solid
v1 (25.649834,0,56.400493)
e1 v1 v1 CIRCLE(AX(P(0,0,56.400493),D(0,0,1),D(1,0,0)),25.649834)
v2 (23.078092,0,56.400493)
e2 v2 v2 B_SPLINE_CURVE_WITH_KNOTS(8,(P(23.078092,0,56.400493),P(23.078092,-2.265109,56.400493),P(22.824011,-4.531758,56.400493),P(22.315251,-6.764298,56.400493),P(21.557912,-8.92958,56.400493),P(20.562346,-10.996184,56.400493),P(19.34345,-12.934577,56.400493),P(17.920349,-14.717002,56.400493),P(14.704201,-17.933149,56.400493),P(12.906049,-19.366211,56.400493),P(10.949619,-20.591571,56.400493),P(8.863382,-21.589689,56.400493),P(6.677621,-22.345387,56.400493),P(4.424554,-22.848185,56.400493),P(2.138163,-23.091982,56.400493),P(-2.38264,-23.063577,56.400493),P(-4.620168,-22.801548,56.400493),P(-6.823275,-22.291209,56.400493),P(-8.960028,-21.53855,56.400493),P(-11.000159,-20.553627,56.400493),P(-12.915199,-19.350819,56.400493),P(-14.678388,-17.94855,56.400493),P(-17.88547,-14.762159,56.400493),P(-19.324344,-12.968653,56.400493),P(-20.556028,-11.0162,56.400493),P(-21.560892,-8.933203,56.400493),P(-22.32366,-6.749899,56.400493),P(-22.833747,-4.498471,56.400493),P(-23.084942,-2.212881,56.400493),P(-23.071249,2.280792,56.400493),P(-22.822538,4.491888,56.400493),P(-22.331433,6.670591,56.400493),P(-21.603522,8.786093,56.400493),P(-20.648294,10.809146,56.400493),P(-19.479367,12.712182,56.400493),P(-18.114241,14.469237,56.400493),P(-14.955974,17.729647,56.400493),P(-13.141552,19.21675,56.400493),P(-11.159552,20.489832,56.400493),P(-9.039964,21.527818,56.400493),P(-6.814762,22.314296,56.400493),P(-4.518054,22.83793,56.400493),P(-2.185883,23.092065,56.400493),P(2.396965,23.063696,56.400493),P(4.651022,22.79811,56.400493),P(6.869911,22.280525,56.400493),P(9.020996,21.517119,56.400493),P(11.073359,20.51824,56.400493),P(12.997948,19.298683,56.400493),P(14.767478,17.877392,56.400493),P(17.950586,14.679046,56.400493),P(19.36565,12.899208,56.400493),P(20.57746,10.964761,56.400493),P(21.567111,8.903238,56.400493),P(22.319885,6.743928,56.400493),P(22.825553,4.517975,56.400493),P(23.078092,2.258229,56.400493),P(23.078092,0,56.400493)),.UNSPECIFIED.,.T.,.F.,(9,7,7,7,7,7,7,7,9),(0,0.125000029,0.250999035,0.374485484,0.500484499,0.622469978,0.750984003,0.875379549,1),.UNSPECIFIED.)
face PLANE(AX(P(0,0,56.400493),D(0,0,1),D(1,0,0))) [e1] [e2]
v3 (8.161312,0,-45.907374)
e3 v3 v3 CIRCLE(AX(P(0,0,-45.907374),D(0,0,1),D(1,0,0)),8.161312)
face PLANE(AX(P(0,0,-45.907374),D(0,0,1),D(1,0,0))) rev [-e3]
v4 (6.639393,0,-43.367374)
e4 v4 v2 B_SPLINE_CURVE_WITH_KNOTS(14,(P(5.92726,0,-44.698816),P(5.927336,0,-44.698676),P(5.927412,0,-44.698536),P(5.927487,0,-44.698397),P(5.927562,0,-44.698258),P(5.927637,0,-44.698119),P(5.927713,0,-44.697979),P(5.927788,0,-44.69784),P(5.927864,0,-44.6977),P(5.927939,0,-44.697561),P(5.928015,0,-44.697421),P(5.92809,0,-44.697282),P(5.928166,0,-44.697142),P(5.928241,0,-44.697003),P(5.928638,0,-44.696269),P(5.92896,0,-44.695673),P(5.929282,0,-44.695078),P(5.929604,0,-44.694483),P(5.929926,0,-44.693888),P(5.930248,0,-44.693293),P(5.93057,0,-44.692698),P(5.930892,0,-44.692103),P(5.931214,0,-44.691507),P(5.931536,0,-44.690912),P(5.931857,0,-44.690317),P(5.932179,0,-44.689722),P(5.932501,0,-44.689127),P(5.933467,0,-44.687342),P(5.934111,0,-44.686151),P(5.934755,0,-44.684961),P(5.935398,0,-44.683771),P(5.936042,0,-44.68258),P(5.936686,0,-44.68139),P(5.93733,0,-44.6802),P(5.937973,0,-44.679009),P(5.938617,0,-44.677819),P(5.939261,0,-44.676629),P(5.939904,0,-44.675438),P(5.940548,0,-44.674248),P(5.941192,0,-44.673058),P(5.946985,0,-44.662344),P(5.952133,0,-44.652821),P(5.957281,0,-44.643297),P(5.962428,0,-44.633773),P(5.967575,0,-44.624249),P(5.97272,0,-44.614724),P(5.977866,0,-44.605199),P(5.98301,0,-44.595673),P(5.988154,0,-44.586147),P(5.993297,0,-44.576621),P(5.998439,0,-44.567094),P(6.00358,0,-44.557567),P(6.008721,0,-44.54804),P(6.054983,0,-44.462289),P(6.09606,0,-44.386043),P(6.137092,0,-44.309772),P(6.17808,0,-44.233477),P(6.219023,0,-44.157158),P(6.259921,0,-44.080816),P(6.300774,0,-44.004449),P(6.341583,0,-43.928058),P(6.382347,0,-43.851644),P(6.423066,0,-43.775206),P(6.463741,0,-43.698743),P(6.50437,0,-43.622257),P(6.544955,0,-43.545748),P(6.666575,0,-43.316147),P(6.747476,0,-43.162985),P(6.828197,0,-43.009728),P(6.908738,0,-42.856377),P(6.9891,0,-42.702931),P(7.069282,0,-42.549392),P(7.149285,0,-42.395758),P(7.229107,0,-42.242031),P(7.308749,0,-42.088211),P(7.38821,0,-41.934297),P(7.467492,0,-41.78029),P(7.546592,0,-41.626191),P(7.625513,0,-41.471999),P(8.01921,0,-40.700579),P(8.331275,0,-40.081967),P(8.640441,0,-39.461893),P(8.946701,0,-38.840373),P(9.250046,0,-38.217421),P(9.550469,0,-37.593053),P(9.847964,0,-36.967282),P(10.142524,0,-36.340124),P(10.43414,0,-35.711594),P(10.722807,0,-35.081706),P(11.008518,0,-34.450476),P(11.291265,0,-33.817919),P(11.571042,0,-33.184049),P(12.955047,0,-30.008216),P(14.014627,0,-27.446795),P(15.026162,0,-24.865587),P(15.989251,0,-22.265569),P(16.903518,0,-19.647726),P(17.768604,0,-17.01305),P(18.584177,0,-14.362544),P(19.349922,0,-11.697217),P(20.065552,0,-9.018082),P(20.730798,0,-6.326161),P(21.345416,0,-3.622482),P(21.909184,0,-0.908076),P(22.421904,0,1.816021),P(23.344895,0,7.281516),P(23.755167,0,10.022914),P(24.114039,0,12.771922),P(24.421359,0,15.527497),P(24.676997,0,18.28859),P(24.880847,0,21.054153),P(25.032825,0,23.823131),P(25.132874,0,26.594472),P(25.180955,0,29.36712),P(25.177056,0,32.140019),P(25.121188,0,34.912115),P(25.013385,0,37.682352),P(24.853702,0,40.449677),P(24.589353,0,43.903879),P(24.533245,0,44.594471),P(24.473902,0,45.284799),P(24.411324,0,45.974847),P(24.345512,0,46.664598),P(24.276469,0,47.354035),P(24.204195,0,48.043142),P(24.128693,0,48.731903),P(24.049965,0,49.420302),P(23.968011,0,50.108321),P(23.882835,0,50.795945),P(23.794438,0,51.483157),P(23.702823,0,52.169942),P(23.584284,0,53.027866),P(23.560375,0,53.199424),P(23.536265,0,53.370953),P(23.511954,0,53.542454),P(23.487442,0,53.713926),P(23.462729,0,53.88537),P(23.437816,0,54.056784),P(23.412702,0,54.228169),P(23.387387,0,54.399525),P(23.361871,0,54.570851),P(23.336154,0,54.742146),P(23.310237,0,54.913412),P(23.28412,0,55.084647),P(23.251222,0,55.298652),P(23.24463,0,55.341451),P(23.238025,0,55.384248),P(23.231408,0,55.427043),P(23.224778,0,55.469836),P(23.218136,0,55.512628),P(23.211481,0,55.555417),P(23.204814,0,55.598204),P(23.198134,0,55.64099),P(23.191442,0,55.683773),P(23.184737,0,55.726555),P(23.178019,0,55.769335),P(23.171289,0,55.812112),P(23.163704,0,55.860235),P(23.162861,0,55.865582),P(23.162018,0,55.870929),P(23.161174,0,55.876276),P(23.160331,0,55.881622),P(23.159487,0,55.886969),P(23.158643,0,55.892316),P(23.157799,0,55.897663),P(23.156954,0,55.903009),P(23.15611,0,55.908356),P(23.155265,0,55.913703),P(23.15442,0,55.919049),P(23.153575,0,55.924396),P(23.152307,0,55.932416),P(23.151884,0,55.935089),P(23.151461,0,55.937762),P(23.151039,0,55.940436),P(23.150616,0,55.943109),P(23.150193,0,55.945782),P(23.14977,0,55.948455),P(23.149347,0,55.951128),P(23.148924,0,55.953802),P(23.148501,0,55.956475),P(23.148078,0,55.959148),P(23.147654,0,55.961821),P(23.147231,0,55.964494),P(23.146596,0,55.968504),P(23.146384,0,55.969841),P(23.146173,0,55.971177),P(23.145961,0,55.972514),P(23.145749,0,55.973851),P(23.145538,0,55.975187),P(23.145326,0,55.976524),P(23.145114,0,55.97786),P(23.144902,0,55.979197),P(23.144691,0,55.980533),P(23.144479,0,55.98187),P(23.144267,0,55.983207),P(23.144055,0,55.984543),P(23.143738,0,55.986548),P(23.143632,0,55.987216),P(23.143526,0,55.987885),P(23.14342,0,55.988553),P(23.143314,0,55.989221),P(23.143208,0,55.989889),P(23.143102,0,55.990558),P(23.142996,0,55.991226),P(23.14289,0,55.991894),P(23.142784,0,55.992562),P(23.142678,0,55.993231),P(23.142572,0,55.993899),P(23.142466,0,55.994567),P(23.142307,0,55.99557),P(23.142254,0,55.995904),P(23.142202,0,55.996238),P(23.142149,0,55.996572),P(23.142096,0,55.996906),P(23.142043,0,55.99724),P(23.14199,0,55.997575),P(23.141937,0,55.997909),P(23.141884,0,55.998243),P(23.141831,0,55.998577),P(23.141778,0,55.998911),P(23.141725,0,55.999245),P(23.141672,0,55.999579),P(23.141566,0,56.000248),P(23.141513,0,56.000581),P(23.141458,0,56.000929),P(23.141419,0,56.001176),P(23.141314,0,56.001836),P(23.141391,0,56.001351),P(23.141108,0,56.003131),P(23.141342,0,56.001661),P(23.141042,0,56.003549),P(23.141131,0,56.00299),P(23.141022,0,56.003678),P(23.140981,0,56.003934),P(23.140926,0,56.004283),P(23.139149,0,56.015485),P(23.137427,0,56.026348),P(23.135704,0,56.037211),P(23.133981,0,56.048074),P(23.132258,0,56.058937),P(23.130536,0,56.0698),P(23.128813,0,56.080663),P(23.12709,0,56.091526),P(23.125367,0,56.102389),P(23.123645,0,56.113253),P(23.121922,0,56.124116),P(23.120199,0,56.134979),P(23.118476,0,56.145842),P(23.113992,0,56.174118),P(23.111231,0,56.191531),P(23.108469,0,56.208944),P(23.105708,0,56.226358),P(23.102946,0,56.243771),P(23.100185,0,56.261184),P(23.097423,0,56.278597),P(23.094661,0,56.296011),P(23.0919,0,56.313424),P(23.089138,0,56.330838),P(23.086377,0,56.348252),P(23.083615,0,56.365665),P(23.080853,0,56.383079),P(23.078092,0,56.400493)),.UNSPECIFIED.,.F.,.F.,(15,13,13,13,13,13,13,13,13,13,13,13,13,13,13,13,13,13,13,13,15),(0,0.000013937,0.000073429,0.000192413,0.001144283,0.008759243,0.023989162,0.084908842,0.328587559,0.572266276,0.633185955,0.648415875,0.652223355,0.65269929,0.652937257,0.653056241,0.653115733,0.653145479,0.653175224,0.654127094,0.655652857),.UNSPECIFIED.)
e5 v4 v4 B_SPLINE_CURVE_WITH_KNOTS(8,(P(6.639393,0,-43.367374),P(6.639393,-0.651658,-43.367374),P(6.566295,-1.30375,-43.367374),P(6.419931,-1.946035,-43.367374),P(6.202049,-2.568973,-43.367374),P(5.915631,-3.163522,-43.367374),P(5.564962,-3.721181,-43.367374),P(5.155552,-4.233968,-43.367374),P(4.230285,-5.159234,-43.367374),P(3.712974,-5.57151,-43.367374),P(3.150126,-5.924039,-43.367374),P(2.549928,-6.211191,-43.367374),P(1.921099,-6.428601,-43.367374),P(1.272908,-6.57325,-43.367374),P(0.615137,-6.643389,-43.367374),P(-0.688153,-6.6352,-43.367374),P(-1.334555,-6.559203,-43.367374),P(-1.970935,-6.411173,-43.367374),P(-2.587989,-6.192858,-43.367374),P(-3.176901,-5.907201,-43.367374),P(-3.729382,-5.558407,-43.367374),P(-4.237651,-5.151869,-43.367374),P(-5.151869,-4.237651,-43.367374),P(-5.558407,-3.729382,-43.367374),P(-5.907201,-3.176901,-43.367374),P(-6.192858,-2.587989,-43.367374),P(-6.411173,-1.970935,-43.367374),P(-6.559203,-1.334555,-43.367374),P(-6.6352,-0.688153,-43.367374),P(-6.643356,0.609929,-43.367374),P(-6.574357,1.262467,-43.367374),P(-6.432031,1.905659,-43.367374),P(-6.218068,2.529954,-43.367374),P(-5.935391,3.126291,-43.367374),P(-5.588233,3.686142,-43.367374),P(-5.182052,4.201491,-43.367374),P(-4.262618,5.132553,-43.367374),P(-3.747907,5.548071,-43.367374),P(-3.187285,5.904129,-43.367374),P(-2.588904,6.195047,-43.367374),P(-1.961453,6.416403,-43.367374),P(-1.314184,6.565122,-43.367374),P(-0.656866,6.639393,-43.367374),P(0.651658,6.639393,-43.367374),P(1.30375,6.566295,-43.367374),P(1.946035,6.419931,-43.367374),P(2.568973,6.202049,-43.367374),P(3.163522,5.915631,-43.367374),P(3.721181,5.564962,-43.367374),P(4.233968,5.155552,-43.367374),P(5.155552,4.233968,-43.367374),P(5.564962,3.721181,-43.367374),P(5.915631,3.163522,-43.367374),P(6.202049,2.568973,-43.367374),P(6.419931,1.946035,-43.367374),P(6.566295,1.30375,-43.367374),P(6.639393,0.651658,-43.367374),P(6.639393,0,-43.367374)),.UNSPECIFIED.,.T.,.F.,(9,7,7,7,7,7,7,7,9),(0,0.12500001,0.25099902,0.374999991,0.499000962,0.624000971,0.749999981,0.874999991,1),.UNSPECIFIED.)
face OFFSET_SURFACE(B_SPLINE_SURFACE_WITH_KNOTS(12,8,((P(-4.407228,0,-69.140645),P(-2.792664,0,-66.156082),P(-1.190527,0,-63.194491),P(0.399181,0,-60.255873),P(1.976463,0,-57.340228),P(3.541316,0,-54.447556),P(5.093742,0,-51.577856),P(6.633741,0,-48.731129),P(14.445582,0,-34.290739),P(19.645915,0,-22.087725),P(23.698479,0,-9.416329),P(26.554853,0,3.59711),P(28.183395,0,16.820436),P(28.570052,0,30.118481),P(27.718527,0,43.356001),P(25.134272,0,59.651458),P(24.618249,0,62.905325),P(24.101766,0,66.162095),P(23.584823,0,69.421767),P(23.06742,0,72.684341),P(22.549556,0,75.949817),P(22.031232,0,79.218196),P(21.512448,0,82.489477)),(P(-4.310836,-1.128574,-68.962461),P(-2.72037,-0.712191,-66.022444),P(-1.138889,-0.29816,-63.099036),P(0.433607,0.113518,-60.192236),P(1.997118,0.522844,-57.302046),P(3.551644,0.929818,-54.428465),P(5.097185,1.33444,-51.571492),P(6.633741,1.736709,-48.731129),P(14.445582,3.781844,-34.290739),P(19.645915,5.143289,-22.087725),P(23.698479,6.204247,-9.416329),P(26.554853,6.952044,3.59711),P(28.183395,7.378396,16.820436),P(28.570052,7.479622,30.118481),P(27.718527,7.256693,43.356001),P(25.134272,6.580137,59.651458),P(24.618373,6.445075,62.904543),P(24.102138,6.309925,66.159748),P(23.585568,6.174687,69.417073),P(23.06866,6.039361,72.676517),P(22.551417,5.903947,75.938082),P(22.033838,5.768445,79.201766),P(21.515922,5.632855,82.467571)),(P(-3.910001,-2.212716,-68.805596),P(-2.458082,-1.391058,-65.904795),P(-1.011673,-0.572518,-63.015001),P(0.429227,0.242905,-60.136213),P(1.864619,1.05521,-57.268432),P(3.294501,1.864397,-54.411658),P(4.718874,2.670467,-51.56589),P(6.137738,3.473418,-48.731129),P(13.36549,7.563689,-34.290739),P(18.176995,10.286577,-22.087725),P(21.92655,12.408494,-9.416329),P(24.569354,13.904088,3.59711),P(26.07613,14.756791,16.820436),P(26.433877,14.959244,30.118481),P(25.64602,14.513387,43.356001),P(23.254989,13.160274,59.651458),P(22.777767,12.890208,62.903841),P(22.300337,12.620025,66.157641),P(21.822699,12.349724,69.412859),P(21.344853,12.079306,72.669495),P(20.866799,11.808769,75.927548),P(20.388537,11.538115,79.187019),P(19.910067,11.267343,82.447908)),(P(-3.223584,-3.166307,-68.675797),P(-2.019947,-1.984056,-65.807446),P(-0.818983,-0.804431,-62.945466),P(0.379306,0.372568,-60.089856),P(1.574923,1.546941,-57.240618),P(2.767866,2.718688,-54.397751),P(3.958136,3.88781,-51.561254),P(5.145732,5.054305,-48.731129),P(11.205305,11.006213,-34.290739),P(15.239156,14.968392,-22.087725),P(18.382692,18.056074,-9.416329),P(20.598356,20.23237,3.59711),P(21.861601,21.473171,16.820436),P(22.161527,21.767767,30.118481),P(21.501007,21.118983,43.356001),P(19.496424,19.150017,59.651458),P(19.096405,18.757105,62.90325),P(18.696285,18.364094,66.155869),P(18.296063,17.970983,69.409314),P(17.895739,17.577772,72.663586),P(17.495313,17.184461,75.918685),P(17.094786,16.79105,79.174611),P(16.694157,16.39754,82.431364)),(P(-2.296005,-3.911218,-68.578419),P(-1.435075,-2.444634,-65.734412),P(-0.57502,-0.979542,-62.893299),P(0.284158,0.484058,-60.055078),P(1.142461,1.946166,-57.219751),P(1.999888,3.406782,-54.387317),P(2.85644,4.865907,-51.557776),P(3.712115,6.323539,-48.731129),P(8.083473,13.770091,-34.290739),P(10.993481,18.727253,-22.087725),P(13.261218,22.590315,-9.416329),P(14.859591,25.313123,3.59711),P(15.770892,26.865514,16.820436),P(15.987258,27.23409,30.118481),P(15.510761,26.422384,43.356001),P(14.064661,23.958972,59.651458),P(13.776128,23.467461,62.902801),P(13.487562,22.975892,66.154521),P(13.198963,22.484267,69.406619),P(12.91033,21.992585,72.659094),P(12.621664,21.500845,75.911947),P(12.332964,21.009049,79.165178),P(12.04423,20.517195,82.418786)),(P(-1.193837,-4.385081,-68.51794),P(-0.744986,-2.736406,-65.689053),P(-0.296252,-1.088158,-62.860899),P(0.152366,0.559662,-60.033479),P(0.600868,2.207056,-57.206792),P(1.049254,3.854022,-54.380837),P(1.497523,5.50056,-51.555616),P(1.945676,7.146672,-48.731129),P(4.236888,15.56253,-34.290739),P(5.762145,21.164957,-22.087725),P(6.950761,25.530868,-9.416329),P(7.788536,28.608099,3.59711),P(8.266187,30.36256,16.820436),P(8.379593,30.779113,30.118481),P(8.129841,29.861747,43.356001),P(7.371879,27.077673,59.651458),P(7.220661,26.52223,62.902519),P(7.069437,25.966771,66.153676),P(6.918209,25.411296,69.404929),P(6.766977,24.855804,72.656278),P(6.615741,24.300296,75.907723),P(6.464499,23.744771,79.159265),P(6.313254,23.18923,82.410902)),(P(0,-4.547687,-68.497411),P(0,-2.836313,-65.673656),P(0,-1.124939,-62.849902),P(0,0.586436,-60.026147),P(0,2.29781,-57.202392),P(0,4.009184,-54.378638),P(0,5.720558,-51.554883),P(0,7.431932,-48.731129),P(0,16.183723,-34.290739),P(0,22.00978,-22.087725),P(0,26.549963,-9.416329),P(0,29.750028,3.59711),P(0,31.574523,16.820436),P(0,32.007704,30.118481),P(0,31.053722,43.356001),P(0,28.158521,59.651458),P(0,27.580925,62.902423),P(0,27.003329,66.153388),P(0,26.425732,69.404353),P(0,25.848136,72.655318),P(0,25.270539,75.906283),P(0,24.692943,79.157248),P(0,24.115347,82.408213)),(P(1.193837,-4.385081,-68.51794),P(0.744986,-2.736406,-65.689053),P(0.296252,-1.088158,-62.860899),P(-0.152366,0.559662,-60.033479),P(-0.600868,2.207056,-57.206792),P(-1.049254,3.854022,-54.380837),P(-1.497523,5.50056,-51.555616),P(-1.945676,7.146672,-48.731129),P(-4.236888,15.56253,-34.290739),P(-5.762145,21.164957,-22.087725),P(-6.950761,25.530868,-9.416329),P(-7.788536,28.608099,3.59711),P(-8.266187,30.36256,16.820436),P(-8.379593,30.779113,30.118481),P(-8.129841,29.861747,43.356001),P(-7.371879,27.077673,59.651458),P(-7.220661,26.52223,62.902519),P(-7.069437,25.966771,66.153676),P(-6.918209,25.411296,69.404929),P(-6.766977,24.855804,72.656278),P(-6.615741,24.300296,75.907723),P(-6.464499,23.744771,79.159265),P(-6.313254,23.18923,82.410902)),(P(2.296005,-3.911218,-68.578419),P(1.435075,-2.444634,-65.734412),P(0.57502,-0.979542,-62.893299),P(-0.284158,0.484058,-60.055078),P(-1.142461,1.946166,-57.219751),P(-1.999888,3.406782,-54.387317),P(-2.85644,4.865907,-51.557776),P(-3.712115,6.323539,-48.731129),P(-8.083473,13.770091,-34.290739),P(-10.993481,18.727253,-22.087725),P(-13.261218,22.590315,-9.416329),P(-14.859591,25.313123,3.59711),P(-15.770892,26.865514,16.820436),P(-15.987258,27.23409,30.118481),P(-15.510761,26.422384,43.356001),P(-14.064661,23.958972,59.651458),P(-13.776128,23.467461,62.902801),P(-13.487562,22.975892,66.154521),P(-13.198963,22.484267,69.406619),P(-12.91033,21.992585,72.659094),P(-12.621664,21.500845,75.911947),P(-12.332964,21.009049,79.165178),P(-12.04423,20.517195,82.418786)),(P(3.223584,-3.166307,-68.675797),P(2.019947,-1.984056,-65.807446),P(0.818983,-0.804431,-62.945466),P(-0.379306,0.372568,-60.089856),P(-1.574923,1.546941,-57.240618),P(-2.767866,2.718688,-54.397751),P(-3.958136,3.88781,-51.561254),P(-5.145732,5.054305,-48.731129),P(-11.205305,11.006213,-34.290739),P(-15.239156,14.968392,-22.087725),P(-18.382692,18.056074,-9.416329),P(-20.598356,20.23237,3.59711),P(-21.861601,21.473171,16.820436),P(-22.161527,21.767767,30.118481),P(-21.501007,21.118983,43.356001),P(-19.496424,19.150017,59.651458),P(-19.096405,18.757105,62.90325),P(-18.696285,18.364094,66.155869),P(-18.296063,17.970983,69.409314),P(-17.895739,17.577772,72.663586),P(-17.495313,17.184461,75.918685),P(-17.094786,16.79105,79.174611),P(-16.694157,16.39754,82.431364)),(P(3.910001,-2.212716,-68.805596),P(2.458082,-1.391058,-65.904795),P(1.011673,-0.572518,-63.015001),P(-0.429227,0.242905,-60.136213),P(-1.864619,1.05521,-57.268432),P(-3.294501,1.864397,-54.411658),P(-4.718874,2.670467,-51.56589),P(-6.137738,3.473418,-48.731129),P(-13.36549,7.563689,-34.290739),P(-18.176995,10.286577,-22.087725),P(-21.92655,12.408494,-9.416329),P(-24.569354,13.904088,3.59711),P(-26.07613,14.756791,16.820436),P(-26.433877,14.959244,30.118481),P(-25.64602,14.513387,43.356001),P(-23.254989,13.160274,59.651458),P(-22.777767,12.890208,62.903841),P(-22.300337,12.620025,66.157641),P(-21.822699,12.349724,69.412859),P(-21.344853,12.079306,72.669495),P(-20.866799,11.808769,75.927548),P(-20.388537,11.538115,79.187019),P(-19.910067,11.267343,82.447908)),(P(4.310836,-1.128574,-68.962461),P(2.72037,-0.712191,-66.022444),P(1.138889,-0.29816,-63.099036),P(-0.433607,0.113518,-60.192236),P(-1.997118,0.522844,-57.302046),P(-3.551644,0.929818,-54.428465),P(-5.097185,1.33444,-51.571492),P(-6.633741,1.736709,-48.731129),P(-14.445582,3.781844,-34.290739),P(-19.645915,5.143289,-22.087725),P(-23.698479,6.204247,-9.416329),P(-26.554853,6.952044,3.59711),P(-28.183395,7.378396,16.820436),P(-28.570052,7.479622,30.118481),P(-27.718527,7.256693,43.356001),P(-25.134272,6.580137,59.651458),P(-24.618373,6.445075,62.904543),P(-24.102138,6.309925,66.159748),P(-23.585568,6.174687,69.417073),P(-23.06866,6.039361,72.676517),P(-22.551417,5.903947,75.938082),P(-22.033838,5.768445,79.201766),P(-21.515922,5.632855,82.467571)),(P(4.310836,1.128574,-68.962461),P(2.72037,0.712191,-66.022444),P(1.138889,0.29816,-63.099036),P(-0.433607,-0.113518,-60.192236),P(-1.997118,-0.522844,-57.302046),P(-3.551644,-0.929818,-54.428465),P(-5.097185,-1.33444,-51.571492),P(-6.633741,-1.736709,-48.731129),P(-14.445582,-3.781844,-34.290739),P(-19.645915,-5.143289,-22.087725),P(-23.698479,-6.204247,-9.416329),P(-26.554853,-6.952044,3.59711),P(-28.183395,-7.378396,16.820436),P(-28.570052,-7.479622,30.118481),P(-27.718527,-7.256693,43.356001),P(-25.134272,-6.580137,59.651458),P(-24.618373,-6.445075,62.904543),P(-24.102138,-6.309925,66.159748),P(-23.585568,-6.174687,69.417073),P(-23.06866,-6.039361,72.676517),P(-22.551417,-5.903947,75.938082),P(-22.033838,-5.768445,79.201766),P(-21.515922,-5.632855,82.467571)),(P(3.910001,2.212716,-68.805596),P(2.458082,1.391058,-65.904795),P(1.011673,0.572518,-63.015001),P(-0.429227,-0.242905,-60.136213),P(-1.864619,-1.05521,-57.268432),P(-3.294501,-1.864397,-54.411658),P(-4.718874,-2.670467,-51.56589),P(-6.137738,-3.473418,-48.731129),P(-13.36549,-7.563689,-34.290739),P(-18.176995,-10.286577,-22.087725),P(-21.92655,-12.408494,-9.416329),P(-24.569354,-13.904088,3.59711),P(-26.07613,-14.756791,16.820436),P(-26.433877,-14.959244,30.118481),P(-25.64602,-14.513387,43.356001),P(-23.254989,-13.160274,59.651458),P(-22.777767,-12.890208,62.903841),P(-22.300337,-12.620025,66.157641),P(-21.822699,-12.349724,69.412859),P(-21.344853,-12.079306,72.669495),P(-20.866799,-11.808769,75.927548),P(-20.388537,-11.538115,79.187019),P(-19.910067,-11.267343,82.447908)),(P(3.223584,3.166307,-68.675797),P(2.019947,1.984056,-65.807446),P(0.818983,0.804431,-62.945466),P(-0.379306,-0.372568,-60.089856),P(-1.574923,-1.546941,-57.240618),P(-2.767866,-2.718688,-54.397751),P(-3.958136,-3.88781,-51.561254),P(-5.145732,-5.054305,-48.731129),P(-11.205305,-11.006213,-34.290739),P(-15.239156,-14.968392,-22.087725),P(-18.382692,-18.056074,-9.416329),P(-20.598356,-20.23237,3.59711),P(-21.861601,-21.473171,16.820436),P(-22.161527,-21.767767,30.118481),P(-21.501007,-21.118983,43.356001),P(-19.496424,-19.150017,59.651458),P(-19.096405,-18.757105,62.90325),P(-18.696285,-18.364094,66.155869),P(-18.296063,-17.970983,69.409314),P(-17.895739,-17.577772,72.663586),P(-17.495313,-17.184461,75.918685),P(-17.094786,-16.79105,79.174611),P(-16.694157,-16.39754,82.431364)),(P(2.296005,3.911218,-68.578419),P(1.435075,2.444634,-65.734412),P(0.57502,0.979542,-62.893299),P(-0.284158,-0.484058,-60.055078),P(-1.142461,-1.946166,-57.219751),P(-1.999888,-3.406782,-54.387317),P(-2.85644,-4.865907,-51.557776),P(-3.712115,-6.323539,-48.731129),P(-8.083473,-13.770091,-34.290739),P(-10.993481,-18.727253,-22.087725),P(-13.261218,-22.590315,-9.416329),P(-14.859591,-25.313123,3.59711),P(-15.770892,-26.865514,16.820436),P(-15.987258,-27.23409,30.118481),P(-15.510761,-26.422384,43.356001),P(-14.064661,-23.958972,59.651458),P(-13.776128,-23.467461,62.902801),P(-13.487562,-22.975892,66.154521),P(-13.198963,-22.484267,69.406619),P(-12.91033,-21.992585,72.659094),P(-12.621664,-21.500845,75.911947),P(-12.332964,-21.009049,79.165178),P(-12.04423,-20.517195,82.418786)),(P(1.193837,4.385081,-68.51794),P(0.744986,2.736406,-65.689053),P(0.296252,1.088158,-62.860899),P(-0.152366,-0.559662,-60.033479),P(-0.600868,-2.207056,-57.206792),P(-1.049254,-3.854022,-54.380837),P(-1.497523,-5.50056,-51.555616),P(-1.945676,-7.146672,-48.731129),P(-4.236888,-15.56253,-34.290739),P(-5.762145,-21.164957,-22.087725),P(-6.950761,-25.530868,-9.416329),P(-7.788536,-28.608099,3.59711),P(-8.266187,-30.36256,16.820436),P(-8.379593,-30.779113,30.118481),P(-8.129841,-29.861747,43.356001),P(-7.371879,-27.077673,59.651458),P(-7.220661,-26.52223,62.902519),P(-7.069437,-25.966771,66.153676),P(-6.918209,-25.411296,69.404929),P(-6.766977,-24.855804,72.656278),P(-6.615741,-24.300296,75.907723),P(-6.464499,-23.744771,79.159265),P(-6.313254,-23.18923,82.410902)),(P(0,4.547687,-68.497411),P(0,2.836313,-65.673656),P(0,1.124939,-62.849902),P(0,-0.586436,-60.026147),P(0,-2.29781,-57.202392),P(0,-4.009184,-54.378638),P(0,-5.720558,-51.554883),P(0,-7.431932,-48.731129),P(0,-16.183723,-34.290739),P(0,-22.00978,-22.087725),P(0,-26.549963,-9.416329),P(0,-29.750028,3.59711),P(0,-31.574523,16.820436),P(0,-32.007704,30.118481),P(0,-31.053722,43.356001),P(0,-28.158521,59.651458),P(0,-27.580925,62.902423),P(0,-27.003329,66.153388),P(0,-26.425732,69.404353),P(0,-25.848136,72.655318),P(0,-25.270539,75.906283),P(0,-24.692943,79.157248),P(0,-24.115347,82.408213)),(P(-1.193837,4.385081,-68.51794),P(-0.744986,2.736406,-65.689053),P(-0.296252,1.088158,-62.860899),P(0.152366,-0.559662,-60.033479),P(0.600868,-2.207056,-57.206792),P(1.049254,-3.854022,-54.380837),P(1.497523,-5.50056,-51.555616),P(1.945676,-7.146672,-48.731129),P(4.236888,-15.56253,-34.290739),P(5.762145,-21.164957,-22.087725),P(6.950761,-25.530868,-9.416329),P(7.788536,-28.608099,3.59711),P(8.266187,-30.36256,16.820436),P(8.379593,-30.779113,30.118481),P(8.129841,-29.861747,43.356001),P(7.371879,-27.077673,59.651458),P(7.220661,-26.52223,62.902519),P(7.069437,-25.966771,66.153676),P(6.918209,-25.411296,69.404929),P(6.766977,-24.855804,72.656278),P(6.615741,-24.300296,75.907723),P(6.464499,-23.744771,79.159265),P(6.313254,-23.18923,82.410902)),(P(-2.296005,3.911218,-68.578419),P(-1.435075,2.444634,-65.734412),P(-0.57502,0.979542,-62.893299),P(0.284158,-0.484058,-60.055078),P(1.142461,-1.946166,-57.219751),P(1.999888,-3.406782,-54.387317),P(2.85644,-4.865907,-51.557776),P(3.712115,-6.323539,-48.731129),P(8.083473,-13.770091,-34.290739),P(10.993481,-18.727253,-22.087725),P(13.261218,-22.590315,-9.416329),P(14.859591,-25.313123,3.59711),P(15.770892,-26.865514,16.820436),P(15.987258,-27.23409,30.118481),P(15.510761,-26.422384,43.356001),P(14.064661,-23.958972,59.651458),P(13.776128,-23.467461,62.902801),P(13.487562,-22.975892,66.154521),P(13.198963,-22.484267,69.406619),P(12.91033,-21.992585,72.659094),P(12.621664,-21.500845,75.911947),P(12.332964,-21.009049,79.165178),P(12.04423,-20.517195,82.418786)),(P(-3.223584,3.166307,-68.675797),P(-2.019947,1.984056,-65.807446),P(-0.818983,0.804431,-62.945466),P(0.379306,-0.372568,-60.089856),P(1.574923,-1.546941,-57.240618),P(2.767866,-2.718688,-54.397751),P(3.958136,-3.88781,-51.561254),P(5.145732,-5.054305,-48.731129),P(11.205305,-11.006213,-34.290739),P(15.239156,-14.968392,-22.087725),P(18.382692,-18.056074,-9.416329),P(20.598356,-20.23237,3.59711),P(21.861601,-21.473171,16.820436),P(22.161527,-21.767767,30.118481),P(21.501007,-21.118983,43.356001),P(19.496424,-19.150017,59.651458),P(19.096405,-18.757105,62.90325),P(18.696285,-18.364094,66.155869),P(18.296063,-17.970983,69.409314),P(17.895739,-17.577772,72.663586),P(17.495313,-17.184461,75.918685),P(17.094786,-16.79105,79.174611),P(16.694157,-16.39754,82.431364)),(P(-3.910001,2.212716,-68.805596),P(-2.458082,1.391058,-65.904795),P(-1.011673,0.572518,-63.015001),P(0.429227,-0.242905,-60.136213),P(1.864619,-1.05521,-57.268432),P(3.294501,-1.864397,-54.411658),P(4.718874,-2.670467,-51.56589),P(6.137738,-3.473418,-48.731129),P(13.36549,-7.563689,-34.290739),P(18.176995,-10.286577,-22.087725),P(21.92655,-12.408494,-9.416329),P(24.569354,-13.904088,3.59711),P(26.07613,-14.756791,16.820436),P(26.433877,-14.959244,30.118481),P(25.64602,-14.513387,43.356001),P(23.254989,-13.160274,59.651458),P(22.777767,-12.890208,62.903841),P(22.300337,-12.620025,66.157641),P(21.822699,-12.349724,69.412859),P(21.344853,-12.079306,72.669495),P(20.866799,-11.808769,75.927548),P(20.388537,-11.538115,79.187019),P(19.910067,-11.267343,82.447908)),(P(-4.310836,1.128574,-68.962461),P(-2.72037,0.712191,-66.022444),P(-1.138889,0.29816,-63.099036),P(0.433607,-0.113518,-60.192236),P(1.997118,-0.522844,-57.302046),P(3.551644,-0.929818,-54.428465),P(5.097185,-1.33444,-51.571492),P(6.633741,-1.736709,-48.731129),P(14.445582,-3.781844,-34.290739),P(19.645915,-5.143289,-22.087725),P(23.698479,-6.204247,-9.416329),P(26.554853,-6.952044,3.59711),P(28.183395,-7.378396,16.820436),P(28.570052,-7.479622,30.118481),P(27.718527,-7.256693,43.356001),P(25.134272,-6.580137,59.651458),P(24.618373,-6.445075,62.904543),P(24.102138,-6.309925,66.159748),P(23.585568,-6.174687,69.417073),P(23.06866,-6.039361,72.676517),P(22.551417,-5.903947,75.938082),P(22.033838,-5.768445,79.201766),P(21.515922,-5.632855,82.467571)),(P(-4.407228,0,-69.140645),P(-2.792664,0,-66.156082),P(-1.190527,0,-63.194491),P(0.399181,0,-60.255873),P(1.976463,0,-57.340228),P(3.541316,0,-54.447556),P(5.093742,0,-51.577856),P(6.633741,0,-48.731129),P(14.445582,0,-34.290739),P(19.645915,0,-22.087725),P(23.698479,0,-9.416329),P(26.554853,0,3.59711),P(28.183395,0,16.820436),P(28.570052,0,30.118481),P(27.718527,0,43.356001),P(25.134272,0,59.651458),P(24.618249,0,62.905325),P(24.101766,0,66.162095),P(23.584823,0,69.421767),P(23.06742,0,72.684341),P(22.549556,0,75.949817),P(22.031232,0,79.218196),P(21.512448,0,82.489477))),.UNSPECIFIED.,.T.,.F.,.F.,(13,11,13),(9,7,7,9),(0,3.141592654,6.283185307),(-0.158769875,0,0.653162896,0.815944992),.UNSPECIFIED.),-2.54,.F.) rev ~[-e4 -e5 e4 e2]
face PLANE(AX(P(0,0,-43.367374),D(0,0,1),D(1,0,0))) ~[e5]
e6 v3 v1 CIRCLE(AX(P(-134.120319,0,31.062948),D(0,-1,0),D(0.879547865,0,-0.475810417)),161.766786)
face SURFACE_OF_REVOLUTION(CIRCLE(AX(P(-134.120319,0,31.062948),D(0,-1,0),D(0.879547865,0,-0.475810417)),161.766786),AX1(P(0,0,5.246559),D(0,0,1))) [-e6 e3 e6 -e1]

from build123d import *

# Parameters (mm, degrees)
F2_T = -2.54


with BuildPart() as f1:
    # F0 (on Front) → F1 (revolve)
    with BuildSketch(Plane.XZ):
        with BuildLine():
            Line((25.649834, 56.400493), (0, 56.400493))
            Line((0, 56.400493), (0, -45.907374))
            Line((0, -45.907374), (8.161312, -45.907374))
            ThreePointArc((8.161312, -45.907374), (25.333577, 3.805875), (25.649834, 56.400493))
        make_face()
    revolve(axis=Axis((0, 0, 5.246559), (0, 0, 1)))

    # F2
    f2_openings = [f1.faces().sort_by_distance(p)[0] for p in [
        (0, 0, 56.400493),
    ]]
    offset(amount=F2_T, openings=f2_openings)


solid = f1.part
